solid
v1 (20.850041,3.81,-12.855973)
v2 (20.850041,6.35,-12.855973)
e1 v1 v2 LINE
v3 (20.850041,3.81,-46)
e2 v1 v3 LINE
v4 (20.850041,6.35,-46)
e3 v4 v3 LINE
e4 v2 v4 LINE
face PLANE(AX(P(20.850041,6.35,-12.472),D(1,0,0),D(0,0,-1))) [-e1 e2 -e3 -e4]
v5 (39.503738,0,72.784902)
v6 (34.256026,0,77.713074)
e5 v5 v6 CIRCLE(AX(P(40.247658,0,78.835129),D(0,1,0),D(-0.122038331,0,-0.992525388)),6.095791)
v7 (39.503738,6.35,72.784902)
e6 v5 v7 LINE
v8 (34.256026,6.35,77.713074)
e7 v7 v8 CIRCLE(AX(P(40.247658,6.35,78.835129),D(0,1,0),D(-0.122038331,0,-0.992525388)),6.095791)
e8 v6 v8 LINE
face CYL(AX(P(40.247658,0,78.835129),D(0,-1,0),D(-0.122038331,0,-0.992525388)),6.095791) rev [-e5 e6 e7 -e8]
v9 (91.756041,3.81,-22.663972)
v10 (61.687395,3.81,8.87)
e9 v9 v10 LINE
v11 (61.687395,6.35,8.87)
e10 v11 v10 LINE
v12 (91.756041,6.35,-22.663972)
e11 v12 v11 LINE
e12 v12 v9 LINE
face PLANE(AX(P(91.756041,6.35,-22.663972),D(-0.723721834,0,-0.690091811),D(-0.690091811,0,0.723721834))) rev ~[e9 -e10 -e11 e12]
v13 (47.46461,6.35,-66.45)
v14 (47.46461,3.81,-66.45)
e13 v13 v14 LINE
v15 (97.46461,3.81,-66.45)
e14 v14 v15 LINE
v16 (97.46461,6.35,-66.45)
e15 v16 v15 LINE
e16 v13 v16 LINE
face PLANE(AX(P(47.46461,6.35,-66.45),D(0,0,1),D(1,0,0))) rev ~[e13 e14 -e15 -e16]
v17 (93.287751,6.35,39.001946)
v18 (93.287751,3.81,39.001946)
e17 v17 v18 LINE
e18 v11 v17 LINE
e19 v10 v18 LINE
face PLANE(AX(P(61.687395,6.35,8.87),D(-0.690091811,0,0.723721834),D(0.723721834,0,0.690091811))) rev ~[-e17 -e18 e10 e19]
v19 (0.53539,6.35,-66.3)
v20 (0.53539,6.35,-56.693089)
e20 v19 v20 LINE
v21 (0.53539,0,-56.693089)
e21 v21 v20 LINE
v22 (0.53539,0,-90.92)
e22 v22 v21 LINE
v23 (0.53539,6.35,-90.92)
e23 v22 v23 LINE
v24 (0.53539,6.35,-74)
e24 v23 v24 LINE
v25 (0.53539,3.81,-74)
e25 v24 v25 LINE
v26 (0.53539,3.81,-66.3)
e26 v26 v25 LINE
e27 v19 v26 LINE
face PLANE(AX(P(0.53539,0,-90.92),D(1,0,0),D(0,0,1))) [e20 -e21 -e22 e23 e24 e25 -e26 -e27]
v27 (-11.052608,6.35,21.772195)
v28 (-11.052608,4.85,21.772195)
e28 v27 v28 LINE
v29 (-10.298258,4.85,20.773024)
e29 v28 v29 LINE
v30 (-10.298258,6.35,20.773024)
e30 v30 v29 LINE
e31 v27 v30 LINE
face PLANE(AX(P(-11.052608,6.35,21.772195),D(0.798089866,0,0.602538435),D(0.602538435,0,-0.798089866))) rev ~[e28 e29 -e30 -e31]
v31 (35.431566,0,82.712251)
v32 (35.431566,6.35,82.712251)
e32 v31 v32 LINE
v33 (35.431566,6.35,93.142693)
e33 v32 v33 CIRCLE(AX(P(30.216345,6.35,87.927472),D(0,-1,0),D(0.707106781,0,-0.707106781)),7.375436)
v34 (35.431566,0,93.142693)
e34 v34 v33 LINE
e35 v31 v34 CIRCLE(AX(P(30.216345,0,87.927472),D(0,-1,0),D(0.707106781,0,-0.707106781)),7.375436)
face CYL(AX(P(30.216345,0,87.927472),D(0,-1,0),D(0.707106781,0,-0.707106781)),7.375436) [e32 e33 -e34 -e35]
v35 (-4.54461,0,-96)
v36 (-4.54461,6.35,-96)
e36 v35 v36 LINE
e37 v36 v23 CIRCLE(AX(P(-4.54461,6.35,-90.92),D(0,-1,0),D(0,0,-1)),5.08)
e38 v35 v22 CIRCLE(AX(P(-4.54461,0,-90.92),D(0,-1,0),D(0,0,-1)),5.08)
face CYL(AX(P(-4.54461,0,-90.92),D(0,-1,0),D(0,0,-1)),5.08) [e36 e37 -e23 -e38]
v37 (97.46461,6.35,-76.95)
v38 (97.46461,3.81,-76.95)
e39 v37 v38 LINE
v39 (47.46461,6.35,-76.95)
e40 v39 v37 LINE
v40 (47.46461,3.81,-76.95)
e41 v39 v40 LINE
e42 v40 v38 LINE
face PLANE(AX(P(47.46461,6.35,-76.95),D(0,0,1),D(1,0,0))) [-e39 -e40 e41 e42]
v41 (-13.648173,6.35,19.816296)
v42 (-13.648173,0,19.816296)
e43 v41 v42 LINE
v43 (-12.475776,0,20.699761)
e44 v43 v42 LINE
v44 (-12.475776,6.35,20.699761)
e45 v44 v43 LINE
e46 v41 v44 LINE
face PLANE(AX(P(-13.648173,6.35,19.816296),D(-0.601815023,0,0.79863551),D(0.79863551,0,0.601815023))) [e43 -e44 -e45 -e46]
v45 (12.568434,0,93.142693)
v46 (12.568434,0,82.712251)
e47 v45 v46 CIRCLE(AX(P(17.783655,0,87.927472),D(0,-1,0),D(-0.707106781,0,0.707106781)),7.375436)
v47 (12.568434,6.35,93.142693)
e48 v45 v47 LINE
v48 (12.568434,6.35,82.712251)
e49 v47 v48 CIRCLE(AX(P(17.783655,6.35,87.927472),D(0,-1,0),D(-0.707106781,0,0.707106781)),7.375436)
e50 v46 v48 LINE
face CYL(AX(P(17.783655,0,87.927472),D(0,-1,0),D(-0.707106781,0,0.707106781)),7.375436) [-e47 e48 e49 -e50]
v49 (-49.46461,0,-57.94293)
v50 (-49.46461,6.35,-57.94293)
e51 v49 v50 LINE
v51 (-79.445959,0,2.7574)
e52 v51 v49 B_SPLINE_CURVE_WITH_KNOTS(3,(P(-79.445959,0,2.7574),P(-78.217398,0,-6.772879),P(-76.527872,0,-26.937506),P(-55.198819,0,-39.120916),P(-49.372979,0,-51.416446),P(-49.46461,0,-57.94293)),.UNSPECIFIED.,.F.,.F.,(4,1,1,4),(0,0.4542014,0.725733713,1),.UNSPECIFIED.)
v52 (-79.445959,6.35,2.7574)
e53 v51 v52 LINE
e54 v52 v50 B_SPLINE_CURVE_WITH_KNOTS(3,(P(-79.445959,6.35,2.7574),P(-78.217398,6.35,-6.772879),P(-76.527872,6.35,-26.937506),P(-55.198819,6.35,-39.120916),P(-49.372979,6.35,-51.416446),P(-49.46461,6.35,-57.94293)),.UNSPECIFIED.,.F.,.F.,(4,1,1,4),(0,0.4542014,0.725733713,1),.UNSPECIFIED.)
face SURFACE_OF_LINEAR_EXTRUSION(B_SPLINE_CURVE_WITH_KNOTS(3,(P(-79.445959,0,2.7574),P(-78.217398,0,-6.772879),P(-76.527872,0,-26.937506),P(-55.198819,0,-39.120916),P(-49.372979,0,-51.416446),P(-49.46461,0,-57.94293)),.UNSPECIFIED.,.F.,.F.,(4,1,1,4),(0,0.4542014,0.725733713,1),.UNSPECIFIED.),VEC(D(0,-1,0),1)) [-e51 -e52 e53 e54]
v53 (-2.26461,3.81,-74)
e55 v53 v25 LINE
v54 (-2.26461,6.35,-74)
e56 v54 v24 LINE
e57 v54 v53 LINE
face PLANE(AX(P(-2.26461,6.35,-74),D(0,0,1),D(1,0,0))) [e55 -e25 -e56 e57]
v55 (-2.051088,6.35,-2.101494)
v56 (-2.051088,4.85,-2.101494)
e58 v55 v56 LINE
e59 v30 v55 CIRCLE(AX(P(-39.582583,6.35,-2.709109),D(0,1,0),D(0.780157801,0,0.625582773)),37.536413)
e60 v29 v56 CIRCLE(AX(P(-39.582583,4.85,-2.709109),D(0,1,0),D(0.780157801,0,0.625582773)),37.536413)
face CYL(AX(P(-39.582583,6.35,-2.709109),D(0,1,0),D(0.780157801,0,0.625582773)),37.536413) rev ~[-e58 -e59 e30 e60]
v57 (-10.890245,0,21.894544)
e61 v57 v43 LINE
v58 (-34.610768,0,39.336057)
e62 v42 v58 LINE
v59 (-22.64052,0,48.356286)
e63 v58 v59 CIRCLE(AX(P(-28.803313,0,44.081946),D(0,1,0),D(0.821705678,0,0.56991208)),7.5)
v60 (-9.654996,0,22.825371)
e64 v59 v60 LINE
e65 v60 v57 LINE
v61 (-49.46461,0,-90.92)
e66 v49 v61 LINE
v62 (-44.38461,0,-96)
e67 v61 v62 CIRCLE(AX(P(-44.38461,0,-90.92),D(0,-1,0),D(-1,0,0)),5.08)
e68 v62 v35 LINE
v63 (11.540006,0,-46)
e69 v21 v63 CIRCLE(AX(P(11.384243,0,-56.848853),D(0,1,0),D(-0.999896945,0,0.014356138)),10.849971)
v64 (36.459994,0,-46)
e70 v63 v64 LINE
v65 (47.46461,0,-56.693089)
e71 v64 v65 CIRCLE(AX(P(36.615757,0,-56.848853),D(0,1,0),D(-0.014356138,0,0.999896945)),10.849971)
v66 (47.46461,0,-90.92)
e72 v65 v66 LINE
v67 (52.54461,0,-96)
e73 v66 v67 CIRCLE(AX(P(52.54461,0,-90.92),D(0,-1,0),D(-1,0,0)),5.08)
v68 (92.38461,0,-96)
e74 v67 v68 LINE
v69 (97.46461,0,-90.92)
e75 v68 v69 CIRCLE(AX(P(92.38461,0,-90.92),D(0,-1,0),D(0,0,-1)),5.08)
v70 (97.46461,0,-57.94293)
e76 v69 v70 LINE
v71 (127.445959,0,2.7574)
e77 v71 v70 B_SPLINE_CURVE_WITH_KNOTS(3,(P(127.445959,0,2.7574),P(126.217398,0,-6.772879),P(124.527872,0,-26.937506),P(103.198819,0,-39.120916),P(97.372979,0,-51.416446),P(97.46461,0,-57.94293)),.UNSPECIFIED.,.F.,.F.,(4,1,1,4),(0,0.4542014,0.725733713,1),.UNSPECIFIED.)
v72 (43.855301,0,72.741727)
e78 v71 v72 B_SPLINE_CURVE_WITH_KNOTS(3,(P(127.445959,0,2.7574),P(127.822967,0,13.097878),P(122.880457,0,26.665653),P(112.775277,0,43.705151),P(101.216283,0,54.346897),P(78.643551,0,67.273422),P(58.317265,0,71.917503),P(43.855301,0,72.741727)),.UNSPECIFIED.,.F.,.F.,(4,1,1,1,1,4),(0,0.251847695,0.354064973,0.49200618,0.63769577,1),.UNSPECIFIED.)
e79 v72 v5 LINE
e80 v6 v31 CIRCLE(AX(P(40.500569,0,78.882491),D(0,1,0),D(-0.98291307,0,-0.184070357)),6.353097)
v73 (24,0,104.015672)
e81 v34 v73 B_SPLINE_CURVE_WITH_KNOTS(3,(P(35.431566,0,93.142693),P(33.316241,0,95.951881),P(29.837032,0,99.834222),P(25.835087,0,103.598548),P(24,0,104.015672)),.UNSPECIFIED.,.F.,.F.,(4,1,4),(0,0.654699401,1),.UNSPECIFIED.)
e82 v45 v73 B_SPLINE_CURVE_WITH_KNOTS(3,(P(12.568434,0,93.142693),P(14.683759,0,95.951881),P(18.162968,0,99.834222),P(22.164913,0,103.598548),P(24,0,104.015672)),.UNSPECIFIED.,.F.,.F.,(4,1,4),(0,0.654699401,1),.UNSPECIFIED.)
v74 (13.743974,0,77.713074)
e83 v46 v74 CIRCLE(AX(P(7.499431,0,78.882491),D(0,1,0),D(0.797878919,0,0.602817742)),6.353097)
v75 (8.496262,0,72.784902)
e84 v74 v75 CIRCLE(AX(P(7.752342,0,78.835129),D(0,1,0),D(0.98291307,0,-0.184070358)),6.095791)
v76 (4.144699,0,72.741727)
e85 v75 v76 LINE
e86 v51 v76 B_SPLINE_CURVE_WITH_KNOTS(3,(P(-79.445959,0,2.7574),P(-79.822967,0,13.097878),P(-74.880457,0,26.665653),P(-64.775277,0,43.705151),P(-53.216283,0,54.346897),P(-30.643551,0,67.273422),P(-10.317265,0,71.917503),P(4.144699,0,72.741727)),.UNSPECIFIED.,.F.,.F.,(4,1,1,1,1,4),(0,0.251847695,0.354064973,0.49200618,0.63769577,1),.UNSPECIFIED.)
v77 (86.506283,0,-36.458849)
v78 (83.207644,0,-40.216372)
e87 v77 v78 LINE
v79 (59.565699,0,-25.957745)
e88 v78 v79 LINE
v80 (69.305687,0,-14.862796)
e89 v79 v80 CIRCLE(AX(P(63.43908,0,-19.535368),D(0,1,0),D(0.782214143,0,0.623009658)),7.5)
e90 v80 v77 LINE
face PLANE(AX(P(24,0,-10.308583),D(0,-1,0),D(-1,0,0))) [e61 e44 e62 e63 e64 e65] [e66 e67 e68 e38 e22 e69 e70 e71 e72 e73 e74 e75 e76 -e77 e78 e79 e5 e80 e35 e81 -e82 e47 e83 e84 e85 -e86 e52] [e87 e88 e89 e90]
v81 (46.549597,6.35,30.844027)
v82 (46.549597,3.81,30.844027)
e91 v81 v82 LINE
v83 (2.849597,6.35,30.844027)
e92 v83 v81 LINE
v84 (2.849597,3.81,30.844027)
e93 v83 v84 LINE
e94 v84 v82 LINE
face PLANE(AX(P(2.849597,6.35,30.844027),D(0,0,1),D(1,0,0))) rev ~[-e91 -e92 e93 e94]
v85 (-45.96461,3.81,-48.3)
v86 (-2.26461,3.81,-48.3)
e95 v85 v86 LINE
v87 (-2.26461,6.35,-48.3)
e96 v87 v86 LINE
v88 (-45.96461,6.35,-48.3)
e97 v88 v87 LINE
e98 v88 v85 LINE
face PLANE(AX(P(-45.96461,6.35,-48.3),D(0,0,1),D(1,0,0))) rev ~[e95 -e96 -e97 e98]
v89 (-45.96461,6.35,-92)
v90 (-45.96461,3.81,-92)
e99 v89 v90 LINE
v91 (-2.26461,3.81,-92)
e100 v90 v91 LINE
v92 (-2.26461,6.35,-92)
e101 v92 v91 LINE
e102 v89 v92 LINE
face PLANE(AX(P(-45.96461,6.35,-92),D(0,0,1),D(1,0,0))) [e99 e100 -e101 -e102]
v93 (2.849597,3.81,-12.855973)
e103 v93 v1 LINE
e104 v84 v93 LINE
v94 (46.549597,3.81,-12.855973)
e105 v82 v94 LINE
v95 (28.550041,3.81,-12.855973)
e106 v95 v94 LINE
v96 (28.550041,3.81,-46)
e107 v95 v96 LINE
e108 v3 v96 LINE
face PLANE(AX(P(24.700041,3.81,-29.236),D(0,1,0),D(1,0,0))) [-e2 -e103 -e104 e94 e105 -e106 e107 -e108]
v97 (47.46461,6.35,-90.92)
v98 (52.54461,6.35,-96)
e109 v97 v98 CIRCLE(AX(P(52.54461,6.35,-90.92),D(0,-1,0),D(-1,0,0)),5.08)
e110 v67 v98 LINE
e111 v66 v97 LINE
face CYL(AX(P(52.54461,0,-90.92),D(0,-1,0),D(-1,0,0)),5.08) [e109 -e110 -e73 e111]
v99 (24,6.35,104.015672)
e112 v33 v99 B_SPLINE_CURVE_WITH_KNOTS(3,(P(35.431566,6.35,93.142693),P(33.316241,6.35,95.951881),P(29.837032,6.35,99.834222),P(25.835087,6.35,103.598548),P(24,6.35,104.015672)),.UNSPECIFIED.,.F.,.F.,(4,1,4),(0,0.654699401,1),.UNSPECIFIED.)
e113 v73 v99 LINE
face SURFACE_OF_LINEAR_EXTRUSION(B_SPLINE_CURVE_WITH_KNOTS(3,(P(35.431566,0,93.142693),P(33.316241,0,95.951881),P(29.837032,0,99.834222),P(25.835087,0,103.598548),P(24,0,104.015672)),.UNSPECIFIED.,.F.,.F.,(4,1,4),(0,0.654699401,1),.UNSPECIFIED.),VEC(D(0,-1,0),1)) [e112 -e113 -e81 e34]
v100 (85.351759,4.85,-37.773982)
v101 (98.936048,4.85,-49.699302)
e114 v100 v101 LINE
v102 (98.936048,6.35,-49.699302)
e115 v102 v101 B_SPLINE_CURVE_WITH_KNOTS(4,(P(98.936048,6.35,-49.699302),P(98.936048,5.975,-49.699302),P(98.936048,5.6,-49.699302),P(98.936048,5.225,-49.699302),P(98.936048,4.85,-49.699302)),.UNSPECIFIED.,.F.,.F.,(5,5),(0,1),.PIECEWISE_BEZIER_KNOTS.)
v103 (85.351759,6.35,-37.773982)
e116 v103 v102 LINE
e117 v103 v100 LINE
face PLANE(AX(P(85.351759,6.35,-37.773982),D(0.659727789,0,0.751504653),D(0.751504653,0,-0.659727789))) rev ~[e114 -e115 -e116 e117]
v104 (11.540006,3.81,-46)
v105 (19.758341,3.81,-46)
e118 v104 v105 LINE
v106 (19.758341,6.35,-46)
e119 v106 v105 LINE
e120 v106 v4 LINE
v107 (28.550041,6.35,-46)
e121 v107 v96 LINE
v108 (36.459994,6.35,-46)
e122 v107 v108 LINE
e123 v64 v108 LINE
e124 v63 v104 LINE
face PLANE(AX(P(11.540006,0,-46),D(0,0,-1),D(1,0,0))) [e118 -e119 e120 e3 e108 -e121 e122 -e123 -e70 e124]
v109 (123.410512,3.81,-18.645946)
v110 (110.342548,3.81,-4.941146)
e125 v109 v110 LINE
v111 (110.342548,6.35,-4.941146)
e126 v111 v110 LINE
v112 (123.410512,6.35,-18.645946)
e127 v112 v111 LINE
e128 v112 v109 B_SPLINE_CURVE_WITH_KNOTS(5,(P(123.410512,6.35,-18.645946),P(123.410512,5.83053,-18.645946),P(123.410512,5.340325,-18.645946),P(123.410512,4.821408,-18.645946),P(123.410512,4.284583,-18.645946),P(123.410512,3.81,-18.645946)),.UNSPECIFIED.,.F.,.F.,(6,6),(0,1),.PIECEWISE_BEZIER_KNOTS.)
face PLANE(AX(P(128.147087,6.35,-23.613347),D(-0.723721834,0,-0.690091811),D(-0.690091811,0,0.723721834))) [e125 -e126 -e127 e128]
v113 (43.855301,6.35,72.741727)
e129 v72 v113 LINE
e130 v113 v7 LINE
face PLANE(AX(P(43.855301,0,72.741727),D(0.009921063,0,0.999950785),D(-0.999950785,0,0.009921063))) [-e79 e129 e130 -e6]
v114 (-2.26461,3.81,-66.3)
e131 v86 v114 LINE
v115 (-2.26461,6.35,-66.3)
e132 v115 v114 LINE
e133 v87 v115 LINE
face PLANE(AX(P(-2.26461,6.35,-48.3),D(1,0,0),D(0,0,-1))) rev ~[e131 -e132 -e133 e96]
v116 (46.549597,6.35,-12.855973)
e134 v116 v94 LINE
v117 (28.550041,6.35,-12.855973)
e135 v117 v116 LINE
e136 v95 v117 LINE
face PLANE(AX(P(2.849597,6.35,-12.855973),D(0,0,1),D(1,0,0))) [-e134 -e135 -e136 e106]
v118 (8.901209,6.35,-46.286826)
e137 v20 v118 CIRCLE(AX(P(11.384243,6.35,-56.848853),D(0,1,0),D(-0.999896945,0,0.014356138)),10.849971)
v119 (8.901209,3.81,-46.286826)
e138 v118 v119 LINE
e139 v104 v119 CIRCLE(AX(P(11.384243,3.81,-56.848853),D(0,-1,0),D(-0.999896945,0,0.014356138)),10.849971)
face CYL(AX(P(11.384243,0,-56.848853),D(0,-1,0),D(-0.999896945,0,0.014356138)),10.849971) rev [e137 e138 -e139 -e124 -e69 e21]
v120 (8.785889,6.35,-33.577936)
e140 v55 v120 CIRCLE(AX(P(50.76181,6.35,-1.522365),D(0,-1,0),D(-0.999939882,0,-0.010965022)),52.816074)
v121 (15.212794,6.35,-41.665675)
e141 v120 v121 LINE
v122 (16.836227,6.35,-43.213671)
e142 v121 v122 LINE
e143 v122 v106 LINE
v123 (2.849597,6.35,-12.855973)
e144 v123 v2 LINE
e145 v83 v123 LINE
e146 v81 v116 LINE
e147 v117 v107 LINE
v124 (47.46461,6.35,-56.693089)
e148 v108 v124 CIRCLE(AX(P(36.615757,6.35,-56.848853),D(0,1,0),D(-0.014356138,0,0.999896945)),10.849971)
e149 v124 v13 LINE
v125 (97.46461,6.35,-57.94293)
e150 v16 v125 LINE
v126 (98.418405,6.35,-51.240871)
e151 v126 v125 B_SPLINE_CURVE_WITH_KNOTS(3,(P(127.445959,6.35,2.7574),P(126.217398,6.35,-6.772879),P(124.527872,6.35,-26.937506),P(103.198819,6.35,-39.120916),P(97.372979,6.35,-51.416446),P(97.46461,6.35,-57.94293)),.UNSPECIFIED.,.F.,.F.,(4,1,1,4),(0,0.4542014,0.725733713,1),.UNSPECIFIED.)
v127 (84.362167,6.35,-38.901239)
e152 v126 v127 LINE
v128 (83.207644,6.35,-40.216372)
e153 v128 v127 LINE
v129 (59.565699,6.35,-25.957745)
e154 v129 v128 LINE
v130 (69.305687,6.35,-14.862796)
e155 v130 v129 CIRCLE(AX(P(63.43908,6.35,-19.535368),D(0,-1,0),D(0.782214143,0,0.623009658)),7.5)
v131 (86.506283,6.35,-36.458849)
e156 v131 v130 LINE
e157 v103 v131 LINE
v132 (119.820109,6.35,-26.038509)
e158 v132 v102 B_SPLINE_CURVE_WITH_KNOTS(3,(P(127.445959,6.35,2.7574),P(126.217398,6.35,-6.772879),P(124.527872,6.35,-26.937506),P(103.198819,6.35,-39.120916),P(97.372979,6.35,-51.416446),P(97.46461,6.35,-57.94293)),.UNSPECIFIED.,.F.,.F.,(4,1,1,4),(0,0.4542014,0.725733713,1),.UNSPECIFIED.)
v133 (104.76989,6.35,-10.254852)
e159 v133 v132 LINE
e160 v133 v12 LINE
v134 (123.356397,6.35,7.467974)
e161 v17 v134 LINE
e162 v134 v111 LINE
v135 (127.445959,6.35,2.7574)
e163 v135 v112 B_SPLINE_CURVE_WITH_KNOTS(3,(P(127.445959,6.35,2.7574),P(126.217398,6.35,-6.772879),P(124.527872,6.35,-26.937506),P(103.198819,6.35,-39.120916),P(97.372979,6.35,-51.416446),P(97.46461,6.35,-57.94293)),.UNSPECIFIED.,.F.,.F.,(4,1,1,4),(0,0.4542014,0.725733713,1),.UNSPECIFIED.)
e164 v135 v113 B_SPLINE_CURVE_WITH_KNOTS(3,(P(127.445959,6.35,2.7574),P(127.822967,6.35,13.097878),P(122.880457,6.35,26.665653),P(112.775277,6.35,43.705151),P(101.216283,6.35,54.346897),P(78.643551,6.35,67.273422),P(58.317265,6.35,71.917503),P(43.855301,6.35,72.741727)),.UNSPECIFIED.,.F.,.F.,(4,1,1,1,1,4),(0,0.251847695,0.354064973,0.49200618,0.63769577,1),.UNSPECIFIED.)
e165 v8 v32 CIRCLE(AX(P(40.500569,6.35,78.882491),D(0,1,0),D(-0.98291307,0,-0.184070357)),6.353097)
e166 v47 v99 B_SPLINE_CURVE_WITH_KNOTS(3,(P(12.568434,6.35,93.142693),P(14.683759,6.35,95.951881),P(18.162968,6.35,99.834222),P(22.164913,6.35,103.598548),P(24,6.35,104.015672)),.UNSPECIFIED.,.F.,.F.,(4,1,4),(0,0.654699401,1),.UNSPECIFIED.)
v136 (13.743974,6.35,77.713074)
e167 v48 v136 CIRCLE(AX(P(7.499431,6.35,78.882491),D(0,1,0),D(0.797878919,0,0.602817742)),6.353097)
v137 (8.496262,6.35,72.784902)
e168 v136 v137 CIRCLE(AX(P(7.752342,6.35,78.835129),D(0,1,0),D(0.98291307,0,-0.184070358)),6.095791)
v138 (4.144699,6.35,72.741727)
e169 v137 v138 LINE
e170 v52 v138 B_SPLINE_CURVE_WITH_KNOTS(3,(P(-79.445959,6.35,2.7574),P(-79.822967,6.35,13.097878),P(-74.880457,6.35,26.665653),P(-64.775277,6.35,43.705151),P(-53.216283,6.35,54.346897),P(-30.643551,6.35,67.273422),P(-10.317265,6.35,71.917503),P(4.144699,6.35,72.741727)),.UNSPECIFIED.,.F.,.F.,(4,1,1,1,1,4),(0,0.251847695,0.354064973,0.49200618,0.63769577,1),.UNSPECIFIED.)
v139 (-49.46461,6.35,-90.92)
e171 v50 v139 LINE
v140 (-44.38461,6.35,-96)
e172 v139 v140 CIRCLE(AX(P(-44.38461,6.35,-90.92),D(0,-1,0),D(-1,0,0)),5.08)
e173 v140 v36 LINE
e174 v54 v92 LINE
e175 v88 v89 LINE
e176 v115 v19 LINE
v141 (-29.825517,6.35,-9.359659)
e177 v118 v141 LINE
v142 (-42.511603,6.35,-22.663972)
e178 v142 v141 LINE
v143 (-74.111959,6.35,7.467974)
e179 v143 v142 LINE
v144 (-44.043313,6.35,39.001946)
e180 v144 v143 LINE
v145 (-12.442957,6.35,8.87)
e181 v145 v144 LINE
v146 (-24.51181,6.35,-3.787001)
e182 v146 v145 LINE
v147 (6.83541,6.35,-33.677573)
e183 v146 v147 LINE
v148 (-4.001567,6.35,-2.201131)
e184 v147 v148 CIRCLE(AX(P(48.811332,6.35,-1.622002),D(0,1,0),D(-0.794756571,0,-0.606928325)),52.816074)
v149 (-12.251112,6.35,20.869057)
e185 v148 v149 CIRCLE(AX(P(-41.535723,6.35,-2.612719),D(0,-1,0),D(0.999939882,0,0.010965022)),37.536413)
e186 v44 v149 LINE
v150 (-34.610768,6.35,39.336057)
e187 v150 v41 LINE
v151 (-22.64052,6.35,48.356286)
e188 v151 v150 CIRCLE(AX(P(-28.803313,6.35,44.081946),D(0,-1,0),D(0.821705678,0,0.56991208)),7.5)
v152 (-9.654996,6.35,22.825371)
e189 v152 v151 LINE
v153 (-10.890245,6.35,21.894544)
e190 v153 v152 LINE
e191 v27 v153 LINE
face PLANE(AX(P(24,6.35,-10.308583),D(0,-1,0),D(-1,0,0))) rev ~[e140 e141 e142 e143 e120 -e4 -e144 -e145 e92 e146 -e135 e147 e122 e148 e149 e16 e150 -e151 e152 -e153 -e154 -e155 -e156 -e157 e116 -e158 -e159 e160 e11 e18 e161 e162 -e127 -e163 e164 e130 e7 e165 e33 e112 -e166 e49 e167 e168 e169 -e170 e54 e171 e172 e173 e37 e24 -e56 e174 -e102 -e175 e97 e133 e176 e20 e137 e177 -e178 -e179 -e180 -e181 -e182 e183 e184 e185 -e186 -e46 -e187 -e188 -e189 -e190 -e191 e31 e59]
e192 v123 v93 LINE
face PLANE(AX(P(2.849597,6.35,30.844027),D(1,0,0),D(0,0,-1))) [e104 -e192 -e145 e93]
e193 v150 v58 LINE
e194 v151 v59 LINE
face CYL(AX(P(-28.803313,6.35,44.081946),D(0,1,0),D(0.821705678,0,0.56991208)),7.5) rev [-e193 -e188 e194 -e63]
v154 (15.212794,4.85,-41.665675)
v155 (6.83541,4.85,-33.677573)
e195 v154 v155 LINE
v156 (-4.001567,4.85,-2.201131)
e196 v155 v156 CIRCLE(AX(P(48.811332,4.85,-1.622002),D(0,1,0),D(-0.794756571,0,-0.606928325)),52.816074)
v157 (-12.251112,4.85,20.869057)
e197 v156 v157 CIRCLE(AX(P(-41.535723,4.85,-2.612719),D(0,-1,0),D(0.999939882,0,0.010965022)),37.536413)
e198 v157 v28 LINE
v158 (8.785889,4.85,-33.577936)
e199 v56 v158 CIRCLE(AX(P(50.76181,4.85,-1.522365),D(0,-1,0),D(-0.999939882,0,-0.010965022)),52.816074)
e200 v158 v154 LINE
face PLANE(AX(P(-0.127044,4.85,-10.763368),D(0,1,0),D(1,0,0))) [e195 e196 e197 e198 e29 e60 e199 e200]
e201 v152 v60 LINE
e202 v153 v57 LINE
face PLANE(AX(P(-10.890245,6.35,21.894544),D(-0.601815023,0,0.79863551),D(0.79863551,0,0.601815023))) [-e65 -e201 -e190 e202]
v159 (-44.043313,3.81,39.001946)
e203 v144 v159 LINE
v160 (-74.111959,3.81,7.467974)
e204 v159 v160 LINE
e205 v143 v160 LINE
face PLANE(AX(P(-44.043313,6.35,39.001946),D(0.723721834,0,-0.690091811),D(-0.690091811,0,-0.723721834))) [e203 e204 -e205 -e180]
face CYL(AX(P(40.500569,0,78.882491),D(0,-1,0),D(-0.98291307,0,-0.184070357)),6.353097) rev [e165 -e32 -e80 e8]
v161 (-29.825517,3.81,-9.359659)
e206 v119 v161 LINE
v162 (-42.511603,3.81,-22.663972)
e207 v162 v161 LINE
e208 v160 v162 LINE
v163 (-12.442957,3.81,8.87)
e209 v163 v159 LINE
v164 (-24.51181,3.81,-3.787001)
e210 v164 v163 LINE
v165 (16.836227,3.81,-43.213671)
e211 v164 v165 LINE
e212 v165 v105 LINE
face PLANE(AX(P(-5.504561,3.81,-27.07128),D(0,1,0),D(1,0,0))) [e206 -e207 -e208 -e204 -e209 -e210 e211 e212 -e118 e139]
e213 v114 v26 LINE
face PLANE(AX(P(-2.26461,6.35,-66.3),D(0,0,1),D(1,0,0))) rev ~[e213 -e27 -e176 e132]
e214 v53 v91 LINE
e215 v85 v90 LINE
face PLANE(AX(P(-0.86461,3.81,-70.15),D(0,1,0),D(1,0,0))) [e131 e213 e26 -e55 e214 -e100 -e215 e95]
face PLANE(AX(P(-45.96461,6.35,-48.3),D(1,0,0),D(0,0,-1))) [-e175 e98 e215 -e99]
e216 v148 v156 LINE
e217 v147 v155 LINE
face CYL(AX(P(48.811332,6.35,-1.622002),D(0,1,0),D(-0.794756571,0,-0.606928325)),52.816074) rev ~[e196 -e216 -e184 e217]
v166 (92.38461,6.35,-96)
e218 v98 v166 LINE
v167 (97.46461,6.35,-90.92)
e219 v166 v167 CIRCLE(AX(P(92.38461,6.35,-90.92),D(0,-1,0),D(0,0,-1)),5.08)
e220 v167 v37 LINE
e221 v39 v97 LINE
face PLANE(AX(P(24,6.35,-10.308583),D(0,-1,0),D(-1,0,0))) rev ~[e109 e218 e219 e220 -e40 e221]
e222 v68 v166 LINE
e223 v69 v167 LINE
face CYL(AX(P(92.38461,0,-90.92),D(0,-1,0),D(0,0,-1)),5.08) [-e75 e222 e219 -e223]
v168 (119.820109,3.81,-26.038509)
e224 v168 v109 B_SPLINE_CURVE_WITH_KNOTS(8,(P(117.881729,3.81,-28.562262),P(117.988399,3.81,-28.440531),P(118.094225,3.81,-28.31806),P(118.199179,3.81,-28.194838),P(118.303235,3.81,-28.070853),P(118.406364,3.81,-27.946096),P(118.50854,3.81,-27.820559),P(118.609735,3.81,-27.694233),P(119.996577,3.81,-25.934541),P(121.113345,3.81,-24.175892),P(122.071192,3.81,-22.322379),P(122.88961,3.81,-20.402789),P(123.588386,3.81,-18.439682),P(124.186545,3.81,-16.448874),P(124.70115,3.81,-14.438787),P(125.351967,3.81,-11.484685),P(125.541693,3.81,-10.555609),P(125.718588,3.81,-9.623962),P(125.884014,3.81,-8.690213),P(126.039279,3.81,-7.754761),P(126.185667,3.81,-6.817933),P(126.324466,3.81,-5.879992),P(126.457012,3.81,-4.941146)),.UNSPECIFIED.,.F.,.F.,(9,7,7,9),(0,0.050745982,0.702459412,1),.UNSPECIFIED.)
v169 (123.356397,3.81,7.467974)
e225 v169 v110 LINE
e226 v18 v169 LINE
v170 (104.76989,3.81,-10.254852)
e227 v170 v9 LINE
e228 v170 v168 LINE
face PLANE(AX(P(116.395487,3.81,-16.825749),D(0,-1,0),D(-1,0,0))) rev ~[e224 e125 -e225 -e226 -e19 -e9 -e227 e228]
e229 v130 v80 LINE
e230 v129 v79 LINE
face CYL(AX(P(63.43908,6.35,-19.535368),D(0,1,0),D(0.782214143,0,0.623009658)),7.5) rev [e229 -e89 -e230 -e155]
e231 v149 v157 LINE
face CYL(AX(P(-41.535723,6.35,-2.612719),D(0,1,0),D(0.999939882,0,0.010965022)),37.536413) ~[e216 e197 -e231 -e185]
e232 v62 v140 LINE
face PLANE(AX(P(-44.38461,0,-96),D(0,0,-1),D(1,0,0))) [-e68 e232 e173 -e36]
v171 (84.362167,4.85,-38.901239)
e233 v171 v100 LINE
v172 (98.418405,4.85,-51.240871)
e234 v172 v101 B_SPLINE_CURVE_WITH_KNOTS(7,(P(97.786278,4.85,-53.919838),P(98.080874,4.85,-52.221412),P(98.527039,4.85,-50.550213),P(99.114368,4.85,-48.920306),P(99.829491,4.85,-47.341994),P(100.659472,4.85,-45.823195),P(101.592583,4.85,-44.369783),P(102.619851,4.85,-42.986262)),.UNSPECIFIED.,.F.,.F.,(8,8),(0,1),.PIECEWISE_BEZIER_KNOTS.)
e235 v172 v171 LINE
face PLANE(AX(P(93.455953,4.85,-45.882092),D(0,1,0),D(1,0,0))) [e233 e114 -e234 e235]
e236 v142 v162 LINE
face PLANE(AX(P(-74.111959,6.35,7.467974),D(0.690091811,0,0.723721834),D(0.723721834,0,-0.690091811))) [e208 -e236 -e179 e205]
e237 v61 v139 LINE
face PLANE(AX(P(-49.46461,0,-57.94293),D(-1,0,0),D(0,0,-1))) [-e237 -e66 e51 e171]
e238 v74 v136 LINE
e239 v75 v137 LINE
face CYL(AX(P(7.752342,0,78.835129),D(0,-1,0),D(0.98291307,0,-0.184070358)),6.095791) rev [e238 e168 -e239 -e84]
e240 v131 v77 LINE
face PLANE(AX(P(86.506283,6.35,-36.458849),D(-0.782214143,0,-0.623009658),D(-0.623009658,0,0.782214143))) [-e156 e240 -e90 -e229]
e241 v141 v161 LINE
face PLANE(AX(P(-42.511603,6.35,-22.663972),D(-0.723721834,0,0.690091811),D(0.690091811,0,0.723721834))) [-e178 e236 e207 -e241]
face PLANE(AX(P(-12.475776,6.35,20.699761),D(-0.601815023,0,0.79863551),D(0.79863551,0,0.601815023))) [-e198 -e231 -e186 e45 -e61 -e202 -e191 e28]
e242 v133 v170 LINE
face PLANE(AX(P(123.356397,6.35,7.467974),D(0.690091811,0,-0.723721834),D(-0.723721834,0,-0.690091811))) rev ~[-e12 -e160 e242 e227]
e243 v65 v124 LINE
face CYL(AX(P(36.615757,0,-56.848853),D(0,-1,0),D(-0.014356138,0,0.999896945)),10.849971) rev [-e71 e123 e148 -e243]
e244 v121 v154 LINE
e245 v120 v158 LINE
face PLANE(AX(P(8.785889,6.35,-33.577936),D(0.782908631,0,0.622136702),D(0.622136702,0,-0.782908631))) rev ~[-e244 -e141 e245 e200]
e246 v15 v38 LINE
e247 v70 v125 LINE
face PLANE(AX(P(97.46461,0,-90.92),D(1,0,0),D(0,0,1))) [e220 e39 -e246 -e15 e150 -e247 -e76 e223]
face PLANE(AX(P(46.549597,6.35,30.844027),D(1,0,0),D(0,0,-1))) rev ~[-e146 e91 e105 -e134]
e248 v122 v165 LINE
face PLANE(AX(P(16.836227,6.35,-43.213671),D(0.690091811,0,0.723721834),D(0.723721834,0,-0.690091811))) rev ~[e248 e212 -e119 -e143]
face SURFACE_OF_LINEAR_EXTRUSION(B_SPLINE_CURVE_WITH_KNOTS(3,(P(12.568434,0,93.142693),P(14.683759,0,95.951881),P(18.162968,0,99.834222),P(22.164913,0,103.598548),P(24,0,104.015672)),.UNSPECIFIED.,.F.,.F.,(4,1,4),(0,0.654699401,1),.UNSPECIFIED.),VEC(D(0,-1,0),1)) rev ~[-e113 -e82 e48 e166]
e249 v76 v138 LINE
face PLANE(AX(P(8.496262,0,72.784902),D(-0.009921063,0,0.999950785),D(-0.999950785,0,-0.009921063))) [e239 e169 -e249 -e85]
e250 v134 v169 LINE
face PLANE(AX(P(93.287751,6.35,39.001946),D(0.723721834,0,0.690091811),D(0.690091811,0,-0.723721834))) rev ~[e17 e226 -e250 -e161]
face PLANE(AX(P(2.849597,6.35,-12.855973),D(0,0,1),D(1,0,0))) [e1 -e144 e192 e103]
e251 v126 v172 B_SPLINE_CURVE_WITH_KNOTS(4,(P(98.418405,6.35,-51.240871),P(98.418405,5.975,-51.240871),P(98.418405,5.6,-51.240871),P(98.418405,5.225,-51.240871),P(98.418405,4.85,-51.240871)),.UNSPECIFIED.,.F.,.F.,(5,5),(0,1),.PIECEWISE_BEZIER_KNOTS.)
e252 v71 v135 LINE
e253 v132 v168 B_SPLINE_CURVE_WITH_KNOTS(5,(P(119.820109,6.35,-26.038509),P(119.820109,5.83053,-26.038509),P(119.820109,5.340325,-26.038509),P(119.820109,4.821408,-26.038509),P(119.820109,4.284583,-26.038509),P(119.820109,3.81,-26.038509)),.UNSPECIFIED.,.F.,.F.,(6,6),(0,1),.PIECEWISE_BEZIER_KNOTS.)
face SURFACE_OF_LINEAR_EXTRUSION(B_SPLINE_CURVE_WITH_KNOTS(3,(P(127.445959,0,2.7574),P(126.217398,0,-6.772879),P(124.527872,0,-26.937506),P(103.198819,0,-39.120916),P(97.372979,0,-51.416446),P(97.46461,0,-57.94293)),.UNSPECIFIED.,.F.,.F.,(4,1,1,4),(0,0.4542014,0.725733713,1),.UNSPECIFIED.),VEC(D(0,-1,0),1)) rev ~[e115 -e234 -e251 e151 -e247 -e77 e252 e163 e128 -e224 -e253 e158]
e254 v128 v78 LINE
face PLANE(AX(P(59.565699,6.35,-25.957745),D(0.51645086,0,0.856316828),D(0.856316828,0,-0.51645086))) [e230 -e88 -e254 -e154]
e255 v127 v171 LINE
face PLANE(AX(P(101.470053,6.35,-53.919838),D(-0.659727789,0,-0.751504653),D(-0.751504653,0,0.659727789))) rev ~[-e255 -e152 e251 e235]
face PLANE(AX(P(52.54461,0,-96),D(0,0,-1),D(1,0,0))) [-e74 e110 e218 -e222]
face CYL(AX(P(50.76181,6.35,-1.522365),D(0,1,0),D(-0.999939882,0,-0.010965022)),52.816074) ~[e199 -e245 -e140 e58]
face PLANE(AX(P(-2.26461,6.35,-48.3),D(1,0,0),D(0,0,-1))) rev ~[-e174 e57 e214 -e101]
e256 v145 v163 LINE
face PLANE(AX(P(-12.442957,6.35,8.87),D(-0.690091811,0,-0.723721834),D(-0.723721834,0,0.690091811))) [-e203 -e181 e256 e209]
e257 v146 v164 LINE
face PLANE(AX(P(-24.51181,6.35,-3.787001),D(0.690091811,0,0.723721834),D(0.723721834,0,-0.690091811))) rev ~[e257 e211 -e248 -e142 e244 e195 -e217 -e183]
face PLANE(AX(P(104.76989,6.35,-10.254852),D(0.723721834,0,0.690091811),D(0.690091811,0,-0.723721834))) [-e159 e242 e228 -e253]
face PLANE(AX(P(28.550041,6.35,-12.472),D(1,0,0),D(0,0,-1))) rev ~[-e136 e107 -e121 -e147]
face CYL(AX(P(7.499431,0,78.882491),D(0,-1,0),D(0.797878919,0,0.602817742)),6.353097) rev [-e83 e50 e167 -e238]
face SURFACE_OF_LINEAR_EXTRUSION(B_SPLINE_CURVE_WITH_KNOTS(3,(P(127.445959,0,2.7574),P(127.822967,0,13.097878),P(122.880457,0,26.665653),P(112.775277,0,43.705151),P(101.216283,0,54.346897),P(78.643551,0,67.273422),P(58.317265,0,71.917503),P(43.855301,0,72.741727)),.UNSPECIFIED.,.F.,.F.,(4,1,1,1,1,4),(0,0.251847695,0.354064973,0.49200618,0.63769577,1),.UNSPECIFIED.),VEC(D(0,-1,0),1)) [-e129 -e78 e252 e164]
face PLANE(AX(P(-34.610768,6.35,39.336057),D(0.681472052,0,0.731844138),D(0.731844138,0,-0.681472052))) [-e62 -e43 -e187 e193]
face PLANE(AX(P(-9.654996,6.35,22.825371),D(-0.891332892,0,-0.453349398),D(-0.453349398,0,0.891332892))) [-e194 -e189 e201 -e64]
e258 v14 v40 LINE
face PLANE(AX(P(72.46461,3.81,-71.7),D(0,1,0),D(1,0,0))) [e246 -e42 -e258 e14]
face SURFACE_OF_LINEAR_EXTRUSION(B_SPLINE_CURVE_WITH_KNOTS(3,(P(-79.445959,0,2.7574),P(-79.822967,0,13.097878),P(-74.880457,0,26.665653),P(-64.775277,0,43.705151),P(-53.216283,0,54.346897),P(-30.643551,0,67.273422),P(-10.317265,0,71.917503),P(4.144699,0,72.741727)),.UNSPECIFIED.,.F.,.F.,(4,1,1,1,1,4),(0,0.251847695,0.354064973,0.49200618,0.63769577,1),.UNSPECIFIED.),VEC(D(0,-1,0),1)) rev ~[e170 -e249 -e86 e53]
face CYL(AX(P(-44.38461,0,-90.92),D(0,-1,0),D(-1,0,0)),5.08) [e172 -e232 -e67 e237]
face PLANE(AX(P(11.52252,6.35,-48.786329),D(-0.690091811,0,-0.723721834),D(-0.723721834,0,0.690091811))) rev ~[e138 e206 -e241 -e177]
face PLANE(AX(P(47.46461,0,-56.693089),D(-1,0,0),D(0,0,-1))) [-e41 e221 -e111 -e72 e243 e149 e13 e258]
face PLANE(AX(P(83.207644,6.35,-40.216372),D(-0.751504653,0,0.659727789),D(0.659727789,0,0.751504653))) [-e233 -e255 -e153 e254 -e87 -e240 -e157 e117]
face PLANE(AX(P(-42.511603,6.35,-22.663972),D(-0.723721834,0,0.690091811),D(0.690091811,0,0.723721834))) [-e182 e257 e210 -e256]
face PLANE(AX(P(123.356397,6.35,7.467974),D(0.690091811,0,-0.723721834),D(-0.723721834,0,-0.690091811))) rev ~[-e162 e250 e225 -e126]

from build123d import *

# Parameters (mm, degrees)
BOSS_EXTRUDE1_DEPTH = 6.35
SKETCH2_W           = 43.7
SKETCH2_H           = 43.7
CUT_EXTRUDE1_DEPTH  = 2.54
CUT_EXTRUDE3_DEPTH  = 2.54
SKETCH4_W           = 2.8
SKETCH4_H           = 7.7
SKETCH4_W_2         = 7.7
SKETCH4_H_2         = 33.528
CUT_EXTRUDE4_DEPTH  = 2.54
CUT_EXTRUDE6_DEPTH  = 165.648464375
CUT_EXTRUDE7_DEPTH  = 1.5
SKETCH9_W           = 50
SKETCH9_H           = 10.5
CUT_EXTRUDE8_DEPTH  = 2.54


with BuildPart() as part:
    # Sketch1 → Boss-Extrude1 (new body)
    with BuildSketch(Plane(origin=(0, 0, 0), x_dir=(1, 0, 0), z_dir=(0, 1, 0))):
        with BuildLine():
            Line((52.544610399, 96), (92.384610399, 96))
            ThreePointArc((92.384610399, 96), (95.976712847, 94.512102448), (97.464610399, 90.92))
            Line((97.464610399, 90.92), (97.464610399, 57.942930422))
            add(Edge.make_bspline(
                [(127.445958891, -2.757399797), (126.217398064, 6.772879157), (124.527871566, 26.937506289), (103.198818931, 39.120916323), (97.37297865, 51.416446236), (97.464610399, 57.942930422)],
                knots=[0, 0, 0, 0, 0.4542014, 0.725733713, 1, 1, 1, 1], degree=3))
            add(Edge.make_bspline(
                [(127.445958891, -2.757399797), (127.822967418, -13.097877655), (122.880457127, -26.665652965), (112.775276891, -43.705151038), (101.21628269, -54.346897272), (78.643551493, -67.273421727), (58.317264726, -71.917502632), (43.855300998, -72.741727337)],
                knots=[0, 0, 0, 0, 0.251847695, 0.354064973, 0.49200618, 0.63769577, 1, 1, 1, 1], degree=3))
            Line((43.855300998, -72.741727337), (39.503738361, -72.784901588))
            ThreePointArc((39.503738361, -72.784901588), (36.074693376, -74.391591034), (34.256026209, -77.71307417))
            ThreePointArc((34.256026209, -77.71307417), (34.316151416, -80.336736497), (35.431566201, -82.712250947))
            ThreePointArc((35.431566201, -82.712250947), (37.591781392, -87.927471757), (35.431566201, -93.142692568))
            add(Edge.make_bspline(
                [(35.431566201, -93.142692568), (33.316240589, -95.95188132), (29.837032497, -99.83422186), (25.835087368, -103.598548459), (24, -104.01567246)],
                knots=[0, 0, 0, 0, 0.654699401, 1, 1, 1, 1], degree=3))
            add(Edge.make_bspline(
                [(12.568433799, -93.142692568), (14.683759411, -95.95188132), (18.162967503, -99.83422186), (22.164912632, -103.598548459), (24, -104.01567246)],
                knots=[0, 0, 0, 0, 0.654699401, 1, 1, 1, 1], degree=3))
            ThreePointArc((12.568433799, -93.142692568), (10.408218608, -87.927471757), (12.568433799, -82.712250947))
            ThreePointArc((12.568433799, -82.712250947), (13.683848584, -80.336736497), (13.743973791, -77.71307417))
            ThreePointArc((13.743973791, -77.71307417), (11.925306624, -74.391591034), (8.496261639, -72.784901588))
            Line((8.496261639, -72.784901588), (4.144699002, -72.741727337))
            add(Edge.make_bspline(
                [(-79.445958891, -2.757399797), (-79.822967418, -13.097877655), (-74.880457127, -26.665652965), (-64.775276891, -43.705151038), (-53.21628269, -54.346897272), (-30.643551493, -67.273421727), (-10.317264726, -71.917502632), (4.144699002, -72.741727337)],
                knots=[0, 0, 0, 0, 0.251847695, 0.354064973, 0.49200618, 0.63769577, 1, 1, 1, 1], degree=3))
            add(Edge.make_bspline(
                [(-79.445958891, -2.757399797), (-78.217398064, 6.772879157), (-76.527871566, 26.937506289), (-55.198818931, 39.120916323), (-49.37297865, 51.416446236), (-49.464610399, 57.942930422)],
                knots=[0, 0, 0, 0, 0.4542014, 0.725733713, 1, 1, 1, 1], degree=3))
            Line((-49.464610399, 57.942930422), (-49.464610399, 90.92))
            ThreePointArc((-49.464610399, 90.92), (-47.976712847, 94.512102448), (-44.384610399, 96))
            Line((-44.384610399, 96), (-4.544610399, 96))
            ThreePointArc((-4.544610399, 96), (-0.95250795, 94.512102448), (0.535389601, 90.92))
            Line((0.535389601, 90.92), (0.535389601, 56.693089242))
            ThreePointArc((0.535389601, 56.693089242), (3.823086605, 49.0674139), (11.540006197, 46))
            Line((11.540006197, 46), (36.459993803, 46))
            ThreePointArc((36.459993803, 46), (44.176913395, 49.0674139), (47.464610399, 56.693089242))
            Line((47.464610399, 56.693089242), (47.464610399, 90.92))
            ThreePointArc((47.464610399, 90.92), (48.95250795, 94.512102448), (52.544610399, 96))
        make_face()
    extrude(amount=BOSS_EXTRUDE1_DEPTH)

    # Sketch2 → Cut-Extrude1 (cut)
    with BuildSketch(Plane(origin=(0, 6.35, 0), x_dir=(1, 0, 0), z_dir=(0, 1, 0))):
        with Locations((-24.114610399, 70.15)):
            Rectangle(SKETCH2_W, SKETCH2_H)
        with Locations((24.69959658, -8.994026969)):
            Rectangle(SKETCH2_W, SKETCH2_H)
        Polygon((91.756041109, 22.663971871), (61.687394919, -8.87), (93.287751095, -39.001945738), (123.356397284, -7.467973867), align=None)
        Polygon((-44.043312702, -39.001945738), (-74.111958891, -7.467973867), (-42.511602716, 22.663971871), (-12.442956526, -8.87), align=None)
    extrude(amount=-CUT_EXTRUDE1_DEPTH, mode=Mode.SUBTRACT)

    # Sketch5 → Cut-Extrude3 (cut)
    with BuildSketch(Plane(origin=(0, 6.35, 0), x_dir=(1, 0, 0), z_dir=(0, 1, 0))):
        Polygon((104.769890137, 10.254852474), (122.226588264, 28.562262267), (128.147086585, 23.613346709), (110.342548256, 4.94114553), align=None)
        Polygon((11.522520215, 48.786329059), (-29.825516941, 9.359659151), (-24.511809997, 3.787001032), (16.836227159, 43.213670941), (19.758341498, 46), align=None)
    extrude(amount=-CUT_EXTRUDE3_DEPTH, mode=Mode.SUBTRACT)

    # Sketch4 → Cut-Extrude4 (cut)
    with BuildSketch(Plane(origin=(0, 6.35, 0), x_dir=(1, 0, 0), z_dir=(0, 1, 0))):
        with Locations((-0.864610399, 70.15)):
            Rectangle(SKETCH4_W, SKETCH4_H)
        with Locations((24.700041109, 29.236)):
            Rectangle(SKETCH4_W_2, SKETCH4_H_2)
    extrude(amount=-CUT_EXTRUDE4_DEPTH, mode=Mode.SUBTRACT)

    # Sketch6 → Cut-Extrude6 (cut, through all)
    with BuildSketch(Plane(origin=(0, 6.35, 0), x_dir=(1, 0, 0), z_dir=(0, 1, 0))):
        with BuildLine():
            Line((86.506282583, 36.458848797), (69.305686566, 14.862795995))
            ThreePointArc((69.305686566, 14.862795995), (57.802795593, 14.587410011), (59.565699046, 25.95774464))
            Line((59.565699046, 25.95774464), (83.207643636, 40.216372063))
            Line((83.207643636, 40.216372063), (86.506282583, 36.458848797))
        make_face()
        with BuildLine():
            Line((-10.890245417, -21.894543883), (-9.654995767, -22.825371259))
            Line((-9.654995767, -22.825371259), (-22.640520119, -48.35628634))
            ThreePointArc((-22.640520119, -48.35628634), (-33.316925376, -50.071712063), (-34.61076845, -39.336057229))
            Line((-34.61076845, -39.336057229), (-13.648173317, -19.816296144))
            Line((-13.648173317, -19.816296144), (-12.475776388, -20.699760598))
            Line((-12.475776388, -20.699760598), (-10.890245417, -21.894543883))
        make_face()
    extrude(amount=-CUT_EXTRUDE6_DEPTH, mode=Mode.SUBTRACT)

    # Sketch8 → Cut-Extrude7 (cut)
    with BuildSketch(Plane(origin=(0, 6.35, 0), x_dir=(1, 0, 0), z_dir=(0, 1, 0))):
        with BuildLine():
            ThreePointArc((-10.298257622, -20.773023834), (-4.271120984, -10.022070609), (-2.051088275, 2.101494298))
            ThreePointArc((-2.051088275, 2.101494298), (0.822630209, 18.715850278), (8.785888639, 33.577936193))
            Line((8.785888639, 33.577936193), (15.212793605, 41.665675358))
            Line((15.212793605, 41.665675358), (6.835409986, 33.67757335))
            ThreePointArc((6.835409986, 33.67757335), (-1.127848444, 18.815487435), (-4.001566928, 2.201131456))
            ThreePointArc((-4.001566928, 2.201131456), (-6.191058386, -10.025989743), (-12.251111868, -20.869057457))
            Line((-12.251111868, -20.869057457), (-11.052607664, -21.772195154))
            Line((-11.052607664, -21.772195154), (-10.298257622, -20.773023834))
        make_face()
        Polygon((85.351758952, 37.77398194), (102.619850578, 52.933222628), (101.470052745, 53.919838498), (84.362167268, 38.90123892), align=None)
    extrude(amount=-CUT_EXTRUDE7_DEPTH, mode=Mode.SUBTRACT)

    # Sketch9 → Cut-Extrude8 (cut)
    with BuildSketch(Plane(origin=(0, 6.35, 0), x_dir=(1, 0, 0), z_dir=(0, 1, 0))):
        with Locations((72.464610399, 71.7)):
            Rectangle(SKETCH9_W, SKETCH9_H)
    extrude(amount=-CUT_EXTRUDE8_DEPTH, mode=Mode.SUBTRACT)


solid = part.part
